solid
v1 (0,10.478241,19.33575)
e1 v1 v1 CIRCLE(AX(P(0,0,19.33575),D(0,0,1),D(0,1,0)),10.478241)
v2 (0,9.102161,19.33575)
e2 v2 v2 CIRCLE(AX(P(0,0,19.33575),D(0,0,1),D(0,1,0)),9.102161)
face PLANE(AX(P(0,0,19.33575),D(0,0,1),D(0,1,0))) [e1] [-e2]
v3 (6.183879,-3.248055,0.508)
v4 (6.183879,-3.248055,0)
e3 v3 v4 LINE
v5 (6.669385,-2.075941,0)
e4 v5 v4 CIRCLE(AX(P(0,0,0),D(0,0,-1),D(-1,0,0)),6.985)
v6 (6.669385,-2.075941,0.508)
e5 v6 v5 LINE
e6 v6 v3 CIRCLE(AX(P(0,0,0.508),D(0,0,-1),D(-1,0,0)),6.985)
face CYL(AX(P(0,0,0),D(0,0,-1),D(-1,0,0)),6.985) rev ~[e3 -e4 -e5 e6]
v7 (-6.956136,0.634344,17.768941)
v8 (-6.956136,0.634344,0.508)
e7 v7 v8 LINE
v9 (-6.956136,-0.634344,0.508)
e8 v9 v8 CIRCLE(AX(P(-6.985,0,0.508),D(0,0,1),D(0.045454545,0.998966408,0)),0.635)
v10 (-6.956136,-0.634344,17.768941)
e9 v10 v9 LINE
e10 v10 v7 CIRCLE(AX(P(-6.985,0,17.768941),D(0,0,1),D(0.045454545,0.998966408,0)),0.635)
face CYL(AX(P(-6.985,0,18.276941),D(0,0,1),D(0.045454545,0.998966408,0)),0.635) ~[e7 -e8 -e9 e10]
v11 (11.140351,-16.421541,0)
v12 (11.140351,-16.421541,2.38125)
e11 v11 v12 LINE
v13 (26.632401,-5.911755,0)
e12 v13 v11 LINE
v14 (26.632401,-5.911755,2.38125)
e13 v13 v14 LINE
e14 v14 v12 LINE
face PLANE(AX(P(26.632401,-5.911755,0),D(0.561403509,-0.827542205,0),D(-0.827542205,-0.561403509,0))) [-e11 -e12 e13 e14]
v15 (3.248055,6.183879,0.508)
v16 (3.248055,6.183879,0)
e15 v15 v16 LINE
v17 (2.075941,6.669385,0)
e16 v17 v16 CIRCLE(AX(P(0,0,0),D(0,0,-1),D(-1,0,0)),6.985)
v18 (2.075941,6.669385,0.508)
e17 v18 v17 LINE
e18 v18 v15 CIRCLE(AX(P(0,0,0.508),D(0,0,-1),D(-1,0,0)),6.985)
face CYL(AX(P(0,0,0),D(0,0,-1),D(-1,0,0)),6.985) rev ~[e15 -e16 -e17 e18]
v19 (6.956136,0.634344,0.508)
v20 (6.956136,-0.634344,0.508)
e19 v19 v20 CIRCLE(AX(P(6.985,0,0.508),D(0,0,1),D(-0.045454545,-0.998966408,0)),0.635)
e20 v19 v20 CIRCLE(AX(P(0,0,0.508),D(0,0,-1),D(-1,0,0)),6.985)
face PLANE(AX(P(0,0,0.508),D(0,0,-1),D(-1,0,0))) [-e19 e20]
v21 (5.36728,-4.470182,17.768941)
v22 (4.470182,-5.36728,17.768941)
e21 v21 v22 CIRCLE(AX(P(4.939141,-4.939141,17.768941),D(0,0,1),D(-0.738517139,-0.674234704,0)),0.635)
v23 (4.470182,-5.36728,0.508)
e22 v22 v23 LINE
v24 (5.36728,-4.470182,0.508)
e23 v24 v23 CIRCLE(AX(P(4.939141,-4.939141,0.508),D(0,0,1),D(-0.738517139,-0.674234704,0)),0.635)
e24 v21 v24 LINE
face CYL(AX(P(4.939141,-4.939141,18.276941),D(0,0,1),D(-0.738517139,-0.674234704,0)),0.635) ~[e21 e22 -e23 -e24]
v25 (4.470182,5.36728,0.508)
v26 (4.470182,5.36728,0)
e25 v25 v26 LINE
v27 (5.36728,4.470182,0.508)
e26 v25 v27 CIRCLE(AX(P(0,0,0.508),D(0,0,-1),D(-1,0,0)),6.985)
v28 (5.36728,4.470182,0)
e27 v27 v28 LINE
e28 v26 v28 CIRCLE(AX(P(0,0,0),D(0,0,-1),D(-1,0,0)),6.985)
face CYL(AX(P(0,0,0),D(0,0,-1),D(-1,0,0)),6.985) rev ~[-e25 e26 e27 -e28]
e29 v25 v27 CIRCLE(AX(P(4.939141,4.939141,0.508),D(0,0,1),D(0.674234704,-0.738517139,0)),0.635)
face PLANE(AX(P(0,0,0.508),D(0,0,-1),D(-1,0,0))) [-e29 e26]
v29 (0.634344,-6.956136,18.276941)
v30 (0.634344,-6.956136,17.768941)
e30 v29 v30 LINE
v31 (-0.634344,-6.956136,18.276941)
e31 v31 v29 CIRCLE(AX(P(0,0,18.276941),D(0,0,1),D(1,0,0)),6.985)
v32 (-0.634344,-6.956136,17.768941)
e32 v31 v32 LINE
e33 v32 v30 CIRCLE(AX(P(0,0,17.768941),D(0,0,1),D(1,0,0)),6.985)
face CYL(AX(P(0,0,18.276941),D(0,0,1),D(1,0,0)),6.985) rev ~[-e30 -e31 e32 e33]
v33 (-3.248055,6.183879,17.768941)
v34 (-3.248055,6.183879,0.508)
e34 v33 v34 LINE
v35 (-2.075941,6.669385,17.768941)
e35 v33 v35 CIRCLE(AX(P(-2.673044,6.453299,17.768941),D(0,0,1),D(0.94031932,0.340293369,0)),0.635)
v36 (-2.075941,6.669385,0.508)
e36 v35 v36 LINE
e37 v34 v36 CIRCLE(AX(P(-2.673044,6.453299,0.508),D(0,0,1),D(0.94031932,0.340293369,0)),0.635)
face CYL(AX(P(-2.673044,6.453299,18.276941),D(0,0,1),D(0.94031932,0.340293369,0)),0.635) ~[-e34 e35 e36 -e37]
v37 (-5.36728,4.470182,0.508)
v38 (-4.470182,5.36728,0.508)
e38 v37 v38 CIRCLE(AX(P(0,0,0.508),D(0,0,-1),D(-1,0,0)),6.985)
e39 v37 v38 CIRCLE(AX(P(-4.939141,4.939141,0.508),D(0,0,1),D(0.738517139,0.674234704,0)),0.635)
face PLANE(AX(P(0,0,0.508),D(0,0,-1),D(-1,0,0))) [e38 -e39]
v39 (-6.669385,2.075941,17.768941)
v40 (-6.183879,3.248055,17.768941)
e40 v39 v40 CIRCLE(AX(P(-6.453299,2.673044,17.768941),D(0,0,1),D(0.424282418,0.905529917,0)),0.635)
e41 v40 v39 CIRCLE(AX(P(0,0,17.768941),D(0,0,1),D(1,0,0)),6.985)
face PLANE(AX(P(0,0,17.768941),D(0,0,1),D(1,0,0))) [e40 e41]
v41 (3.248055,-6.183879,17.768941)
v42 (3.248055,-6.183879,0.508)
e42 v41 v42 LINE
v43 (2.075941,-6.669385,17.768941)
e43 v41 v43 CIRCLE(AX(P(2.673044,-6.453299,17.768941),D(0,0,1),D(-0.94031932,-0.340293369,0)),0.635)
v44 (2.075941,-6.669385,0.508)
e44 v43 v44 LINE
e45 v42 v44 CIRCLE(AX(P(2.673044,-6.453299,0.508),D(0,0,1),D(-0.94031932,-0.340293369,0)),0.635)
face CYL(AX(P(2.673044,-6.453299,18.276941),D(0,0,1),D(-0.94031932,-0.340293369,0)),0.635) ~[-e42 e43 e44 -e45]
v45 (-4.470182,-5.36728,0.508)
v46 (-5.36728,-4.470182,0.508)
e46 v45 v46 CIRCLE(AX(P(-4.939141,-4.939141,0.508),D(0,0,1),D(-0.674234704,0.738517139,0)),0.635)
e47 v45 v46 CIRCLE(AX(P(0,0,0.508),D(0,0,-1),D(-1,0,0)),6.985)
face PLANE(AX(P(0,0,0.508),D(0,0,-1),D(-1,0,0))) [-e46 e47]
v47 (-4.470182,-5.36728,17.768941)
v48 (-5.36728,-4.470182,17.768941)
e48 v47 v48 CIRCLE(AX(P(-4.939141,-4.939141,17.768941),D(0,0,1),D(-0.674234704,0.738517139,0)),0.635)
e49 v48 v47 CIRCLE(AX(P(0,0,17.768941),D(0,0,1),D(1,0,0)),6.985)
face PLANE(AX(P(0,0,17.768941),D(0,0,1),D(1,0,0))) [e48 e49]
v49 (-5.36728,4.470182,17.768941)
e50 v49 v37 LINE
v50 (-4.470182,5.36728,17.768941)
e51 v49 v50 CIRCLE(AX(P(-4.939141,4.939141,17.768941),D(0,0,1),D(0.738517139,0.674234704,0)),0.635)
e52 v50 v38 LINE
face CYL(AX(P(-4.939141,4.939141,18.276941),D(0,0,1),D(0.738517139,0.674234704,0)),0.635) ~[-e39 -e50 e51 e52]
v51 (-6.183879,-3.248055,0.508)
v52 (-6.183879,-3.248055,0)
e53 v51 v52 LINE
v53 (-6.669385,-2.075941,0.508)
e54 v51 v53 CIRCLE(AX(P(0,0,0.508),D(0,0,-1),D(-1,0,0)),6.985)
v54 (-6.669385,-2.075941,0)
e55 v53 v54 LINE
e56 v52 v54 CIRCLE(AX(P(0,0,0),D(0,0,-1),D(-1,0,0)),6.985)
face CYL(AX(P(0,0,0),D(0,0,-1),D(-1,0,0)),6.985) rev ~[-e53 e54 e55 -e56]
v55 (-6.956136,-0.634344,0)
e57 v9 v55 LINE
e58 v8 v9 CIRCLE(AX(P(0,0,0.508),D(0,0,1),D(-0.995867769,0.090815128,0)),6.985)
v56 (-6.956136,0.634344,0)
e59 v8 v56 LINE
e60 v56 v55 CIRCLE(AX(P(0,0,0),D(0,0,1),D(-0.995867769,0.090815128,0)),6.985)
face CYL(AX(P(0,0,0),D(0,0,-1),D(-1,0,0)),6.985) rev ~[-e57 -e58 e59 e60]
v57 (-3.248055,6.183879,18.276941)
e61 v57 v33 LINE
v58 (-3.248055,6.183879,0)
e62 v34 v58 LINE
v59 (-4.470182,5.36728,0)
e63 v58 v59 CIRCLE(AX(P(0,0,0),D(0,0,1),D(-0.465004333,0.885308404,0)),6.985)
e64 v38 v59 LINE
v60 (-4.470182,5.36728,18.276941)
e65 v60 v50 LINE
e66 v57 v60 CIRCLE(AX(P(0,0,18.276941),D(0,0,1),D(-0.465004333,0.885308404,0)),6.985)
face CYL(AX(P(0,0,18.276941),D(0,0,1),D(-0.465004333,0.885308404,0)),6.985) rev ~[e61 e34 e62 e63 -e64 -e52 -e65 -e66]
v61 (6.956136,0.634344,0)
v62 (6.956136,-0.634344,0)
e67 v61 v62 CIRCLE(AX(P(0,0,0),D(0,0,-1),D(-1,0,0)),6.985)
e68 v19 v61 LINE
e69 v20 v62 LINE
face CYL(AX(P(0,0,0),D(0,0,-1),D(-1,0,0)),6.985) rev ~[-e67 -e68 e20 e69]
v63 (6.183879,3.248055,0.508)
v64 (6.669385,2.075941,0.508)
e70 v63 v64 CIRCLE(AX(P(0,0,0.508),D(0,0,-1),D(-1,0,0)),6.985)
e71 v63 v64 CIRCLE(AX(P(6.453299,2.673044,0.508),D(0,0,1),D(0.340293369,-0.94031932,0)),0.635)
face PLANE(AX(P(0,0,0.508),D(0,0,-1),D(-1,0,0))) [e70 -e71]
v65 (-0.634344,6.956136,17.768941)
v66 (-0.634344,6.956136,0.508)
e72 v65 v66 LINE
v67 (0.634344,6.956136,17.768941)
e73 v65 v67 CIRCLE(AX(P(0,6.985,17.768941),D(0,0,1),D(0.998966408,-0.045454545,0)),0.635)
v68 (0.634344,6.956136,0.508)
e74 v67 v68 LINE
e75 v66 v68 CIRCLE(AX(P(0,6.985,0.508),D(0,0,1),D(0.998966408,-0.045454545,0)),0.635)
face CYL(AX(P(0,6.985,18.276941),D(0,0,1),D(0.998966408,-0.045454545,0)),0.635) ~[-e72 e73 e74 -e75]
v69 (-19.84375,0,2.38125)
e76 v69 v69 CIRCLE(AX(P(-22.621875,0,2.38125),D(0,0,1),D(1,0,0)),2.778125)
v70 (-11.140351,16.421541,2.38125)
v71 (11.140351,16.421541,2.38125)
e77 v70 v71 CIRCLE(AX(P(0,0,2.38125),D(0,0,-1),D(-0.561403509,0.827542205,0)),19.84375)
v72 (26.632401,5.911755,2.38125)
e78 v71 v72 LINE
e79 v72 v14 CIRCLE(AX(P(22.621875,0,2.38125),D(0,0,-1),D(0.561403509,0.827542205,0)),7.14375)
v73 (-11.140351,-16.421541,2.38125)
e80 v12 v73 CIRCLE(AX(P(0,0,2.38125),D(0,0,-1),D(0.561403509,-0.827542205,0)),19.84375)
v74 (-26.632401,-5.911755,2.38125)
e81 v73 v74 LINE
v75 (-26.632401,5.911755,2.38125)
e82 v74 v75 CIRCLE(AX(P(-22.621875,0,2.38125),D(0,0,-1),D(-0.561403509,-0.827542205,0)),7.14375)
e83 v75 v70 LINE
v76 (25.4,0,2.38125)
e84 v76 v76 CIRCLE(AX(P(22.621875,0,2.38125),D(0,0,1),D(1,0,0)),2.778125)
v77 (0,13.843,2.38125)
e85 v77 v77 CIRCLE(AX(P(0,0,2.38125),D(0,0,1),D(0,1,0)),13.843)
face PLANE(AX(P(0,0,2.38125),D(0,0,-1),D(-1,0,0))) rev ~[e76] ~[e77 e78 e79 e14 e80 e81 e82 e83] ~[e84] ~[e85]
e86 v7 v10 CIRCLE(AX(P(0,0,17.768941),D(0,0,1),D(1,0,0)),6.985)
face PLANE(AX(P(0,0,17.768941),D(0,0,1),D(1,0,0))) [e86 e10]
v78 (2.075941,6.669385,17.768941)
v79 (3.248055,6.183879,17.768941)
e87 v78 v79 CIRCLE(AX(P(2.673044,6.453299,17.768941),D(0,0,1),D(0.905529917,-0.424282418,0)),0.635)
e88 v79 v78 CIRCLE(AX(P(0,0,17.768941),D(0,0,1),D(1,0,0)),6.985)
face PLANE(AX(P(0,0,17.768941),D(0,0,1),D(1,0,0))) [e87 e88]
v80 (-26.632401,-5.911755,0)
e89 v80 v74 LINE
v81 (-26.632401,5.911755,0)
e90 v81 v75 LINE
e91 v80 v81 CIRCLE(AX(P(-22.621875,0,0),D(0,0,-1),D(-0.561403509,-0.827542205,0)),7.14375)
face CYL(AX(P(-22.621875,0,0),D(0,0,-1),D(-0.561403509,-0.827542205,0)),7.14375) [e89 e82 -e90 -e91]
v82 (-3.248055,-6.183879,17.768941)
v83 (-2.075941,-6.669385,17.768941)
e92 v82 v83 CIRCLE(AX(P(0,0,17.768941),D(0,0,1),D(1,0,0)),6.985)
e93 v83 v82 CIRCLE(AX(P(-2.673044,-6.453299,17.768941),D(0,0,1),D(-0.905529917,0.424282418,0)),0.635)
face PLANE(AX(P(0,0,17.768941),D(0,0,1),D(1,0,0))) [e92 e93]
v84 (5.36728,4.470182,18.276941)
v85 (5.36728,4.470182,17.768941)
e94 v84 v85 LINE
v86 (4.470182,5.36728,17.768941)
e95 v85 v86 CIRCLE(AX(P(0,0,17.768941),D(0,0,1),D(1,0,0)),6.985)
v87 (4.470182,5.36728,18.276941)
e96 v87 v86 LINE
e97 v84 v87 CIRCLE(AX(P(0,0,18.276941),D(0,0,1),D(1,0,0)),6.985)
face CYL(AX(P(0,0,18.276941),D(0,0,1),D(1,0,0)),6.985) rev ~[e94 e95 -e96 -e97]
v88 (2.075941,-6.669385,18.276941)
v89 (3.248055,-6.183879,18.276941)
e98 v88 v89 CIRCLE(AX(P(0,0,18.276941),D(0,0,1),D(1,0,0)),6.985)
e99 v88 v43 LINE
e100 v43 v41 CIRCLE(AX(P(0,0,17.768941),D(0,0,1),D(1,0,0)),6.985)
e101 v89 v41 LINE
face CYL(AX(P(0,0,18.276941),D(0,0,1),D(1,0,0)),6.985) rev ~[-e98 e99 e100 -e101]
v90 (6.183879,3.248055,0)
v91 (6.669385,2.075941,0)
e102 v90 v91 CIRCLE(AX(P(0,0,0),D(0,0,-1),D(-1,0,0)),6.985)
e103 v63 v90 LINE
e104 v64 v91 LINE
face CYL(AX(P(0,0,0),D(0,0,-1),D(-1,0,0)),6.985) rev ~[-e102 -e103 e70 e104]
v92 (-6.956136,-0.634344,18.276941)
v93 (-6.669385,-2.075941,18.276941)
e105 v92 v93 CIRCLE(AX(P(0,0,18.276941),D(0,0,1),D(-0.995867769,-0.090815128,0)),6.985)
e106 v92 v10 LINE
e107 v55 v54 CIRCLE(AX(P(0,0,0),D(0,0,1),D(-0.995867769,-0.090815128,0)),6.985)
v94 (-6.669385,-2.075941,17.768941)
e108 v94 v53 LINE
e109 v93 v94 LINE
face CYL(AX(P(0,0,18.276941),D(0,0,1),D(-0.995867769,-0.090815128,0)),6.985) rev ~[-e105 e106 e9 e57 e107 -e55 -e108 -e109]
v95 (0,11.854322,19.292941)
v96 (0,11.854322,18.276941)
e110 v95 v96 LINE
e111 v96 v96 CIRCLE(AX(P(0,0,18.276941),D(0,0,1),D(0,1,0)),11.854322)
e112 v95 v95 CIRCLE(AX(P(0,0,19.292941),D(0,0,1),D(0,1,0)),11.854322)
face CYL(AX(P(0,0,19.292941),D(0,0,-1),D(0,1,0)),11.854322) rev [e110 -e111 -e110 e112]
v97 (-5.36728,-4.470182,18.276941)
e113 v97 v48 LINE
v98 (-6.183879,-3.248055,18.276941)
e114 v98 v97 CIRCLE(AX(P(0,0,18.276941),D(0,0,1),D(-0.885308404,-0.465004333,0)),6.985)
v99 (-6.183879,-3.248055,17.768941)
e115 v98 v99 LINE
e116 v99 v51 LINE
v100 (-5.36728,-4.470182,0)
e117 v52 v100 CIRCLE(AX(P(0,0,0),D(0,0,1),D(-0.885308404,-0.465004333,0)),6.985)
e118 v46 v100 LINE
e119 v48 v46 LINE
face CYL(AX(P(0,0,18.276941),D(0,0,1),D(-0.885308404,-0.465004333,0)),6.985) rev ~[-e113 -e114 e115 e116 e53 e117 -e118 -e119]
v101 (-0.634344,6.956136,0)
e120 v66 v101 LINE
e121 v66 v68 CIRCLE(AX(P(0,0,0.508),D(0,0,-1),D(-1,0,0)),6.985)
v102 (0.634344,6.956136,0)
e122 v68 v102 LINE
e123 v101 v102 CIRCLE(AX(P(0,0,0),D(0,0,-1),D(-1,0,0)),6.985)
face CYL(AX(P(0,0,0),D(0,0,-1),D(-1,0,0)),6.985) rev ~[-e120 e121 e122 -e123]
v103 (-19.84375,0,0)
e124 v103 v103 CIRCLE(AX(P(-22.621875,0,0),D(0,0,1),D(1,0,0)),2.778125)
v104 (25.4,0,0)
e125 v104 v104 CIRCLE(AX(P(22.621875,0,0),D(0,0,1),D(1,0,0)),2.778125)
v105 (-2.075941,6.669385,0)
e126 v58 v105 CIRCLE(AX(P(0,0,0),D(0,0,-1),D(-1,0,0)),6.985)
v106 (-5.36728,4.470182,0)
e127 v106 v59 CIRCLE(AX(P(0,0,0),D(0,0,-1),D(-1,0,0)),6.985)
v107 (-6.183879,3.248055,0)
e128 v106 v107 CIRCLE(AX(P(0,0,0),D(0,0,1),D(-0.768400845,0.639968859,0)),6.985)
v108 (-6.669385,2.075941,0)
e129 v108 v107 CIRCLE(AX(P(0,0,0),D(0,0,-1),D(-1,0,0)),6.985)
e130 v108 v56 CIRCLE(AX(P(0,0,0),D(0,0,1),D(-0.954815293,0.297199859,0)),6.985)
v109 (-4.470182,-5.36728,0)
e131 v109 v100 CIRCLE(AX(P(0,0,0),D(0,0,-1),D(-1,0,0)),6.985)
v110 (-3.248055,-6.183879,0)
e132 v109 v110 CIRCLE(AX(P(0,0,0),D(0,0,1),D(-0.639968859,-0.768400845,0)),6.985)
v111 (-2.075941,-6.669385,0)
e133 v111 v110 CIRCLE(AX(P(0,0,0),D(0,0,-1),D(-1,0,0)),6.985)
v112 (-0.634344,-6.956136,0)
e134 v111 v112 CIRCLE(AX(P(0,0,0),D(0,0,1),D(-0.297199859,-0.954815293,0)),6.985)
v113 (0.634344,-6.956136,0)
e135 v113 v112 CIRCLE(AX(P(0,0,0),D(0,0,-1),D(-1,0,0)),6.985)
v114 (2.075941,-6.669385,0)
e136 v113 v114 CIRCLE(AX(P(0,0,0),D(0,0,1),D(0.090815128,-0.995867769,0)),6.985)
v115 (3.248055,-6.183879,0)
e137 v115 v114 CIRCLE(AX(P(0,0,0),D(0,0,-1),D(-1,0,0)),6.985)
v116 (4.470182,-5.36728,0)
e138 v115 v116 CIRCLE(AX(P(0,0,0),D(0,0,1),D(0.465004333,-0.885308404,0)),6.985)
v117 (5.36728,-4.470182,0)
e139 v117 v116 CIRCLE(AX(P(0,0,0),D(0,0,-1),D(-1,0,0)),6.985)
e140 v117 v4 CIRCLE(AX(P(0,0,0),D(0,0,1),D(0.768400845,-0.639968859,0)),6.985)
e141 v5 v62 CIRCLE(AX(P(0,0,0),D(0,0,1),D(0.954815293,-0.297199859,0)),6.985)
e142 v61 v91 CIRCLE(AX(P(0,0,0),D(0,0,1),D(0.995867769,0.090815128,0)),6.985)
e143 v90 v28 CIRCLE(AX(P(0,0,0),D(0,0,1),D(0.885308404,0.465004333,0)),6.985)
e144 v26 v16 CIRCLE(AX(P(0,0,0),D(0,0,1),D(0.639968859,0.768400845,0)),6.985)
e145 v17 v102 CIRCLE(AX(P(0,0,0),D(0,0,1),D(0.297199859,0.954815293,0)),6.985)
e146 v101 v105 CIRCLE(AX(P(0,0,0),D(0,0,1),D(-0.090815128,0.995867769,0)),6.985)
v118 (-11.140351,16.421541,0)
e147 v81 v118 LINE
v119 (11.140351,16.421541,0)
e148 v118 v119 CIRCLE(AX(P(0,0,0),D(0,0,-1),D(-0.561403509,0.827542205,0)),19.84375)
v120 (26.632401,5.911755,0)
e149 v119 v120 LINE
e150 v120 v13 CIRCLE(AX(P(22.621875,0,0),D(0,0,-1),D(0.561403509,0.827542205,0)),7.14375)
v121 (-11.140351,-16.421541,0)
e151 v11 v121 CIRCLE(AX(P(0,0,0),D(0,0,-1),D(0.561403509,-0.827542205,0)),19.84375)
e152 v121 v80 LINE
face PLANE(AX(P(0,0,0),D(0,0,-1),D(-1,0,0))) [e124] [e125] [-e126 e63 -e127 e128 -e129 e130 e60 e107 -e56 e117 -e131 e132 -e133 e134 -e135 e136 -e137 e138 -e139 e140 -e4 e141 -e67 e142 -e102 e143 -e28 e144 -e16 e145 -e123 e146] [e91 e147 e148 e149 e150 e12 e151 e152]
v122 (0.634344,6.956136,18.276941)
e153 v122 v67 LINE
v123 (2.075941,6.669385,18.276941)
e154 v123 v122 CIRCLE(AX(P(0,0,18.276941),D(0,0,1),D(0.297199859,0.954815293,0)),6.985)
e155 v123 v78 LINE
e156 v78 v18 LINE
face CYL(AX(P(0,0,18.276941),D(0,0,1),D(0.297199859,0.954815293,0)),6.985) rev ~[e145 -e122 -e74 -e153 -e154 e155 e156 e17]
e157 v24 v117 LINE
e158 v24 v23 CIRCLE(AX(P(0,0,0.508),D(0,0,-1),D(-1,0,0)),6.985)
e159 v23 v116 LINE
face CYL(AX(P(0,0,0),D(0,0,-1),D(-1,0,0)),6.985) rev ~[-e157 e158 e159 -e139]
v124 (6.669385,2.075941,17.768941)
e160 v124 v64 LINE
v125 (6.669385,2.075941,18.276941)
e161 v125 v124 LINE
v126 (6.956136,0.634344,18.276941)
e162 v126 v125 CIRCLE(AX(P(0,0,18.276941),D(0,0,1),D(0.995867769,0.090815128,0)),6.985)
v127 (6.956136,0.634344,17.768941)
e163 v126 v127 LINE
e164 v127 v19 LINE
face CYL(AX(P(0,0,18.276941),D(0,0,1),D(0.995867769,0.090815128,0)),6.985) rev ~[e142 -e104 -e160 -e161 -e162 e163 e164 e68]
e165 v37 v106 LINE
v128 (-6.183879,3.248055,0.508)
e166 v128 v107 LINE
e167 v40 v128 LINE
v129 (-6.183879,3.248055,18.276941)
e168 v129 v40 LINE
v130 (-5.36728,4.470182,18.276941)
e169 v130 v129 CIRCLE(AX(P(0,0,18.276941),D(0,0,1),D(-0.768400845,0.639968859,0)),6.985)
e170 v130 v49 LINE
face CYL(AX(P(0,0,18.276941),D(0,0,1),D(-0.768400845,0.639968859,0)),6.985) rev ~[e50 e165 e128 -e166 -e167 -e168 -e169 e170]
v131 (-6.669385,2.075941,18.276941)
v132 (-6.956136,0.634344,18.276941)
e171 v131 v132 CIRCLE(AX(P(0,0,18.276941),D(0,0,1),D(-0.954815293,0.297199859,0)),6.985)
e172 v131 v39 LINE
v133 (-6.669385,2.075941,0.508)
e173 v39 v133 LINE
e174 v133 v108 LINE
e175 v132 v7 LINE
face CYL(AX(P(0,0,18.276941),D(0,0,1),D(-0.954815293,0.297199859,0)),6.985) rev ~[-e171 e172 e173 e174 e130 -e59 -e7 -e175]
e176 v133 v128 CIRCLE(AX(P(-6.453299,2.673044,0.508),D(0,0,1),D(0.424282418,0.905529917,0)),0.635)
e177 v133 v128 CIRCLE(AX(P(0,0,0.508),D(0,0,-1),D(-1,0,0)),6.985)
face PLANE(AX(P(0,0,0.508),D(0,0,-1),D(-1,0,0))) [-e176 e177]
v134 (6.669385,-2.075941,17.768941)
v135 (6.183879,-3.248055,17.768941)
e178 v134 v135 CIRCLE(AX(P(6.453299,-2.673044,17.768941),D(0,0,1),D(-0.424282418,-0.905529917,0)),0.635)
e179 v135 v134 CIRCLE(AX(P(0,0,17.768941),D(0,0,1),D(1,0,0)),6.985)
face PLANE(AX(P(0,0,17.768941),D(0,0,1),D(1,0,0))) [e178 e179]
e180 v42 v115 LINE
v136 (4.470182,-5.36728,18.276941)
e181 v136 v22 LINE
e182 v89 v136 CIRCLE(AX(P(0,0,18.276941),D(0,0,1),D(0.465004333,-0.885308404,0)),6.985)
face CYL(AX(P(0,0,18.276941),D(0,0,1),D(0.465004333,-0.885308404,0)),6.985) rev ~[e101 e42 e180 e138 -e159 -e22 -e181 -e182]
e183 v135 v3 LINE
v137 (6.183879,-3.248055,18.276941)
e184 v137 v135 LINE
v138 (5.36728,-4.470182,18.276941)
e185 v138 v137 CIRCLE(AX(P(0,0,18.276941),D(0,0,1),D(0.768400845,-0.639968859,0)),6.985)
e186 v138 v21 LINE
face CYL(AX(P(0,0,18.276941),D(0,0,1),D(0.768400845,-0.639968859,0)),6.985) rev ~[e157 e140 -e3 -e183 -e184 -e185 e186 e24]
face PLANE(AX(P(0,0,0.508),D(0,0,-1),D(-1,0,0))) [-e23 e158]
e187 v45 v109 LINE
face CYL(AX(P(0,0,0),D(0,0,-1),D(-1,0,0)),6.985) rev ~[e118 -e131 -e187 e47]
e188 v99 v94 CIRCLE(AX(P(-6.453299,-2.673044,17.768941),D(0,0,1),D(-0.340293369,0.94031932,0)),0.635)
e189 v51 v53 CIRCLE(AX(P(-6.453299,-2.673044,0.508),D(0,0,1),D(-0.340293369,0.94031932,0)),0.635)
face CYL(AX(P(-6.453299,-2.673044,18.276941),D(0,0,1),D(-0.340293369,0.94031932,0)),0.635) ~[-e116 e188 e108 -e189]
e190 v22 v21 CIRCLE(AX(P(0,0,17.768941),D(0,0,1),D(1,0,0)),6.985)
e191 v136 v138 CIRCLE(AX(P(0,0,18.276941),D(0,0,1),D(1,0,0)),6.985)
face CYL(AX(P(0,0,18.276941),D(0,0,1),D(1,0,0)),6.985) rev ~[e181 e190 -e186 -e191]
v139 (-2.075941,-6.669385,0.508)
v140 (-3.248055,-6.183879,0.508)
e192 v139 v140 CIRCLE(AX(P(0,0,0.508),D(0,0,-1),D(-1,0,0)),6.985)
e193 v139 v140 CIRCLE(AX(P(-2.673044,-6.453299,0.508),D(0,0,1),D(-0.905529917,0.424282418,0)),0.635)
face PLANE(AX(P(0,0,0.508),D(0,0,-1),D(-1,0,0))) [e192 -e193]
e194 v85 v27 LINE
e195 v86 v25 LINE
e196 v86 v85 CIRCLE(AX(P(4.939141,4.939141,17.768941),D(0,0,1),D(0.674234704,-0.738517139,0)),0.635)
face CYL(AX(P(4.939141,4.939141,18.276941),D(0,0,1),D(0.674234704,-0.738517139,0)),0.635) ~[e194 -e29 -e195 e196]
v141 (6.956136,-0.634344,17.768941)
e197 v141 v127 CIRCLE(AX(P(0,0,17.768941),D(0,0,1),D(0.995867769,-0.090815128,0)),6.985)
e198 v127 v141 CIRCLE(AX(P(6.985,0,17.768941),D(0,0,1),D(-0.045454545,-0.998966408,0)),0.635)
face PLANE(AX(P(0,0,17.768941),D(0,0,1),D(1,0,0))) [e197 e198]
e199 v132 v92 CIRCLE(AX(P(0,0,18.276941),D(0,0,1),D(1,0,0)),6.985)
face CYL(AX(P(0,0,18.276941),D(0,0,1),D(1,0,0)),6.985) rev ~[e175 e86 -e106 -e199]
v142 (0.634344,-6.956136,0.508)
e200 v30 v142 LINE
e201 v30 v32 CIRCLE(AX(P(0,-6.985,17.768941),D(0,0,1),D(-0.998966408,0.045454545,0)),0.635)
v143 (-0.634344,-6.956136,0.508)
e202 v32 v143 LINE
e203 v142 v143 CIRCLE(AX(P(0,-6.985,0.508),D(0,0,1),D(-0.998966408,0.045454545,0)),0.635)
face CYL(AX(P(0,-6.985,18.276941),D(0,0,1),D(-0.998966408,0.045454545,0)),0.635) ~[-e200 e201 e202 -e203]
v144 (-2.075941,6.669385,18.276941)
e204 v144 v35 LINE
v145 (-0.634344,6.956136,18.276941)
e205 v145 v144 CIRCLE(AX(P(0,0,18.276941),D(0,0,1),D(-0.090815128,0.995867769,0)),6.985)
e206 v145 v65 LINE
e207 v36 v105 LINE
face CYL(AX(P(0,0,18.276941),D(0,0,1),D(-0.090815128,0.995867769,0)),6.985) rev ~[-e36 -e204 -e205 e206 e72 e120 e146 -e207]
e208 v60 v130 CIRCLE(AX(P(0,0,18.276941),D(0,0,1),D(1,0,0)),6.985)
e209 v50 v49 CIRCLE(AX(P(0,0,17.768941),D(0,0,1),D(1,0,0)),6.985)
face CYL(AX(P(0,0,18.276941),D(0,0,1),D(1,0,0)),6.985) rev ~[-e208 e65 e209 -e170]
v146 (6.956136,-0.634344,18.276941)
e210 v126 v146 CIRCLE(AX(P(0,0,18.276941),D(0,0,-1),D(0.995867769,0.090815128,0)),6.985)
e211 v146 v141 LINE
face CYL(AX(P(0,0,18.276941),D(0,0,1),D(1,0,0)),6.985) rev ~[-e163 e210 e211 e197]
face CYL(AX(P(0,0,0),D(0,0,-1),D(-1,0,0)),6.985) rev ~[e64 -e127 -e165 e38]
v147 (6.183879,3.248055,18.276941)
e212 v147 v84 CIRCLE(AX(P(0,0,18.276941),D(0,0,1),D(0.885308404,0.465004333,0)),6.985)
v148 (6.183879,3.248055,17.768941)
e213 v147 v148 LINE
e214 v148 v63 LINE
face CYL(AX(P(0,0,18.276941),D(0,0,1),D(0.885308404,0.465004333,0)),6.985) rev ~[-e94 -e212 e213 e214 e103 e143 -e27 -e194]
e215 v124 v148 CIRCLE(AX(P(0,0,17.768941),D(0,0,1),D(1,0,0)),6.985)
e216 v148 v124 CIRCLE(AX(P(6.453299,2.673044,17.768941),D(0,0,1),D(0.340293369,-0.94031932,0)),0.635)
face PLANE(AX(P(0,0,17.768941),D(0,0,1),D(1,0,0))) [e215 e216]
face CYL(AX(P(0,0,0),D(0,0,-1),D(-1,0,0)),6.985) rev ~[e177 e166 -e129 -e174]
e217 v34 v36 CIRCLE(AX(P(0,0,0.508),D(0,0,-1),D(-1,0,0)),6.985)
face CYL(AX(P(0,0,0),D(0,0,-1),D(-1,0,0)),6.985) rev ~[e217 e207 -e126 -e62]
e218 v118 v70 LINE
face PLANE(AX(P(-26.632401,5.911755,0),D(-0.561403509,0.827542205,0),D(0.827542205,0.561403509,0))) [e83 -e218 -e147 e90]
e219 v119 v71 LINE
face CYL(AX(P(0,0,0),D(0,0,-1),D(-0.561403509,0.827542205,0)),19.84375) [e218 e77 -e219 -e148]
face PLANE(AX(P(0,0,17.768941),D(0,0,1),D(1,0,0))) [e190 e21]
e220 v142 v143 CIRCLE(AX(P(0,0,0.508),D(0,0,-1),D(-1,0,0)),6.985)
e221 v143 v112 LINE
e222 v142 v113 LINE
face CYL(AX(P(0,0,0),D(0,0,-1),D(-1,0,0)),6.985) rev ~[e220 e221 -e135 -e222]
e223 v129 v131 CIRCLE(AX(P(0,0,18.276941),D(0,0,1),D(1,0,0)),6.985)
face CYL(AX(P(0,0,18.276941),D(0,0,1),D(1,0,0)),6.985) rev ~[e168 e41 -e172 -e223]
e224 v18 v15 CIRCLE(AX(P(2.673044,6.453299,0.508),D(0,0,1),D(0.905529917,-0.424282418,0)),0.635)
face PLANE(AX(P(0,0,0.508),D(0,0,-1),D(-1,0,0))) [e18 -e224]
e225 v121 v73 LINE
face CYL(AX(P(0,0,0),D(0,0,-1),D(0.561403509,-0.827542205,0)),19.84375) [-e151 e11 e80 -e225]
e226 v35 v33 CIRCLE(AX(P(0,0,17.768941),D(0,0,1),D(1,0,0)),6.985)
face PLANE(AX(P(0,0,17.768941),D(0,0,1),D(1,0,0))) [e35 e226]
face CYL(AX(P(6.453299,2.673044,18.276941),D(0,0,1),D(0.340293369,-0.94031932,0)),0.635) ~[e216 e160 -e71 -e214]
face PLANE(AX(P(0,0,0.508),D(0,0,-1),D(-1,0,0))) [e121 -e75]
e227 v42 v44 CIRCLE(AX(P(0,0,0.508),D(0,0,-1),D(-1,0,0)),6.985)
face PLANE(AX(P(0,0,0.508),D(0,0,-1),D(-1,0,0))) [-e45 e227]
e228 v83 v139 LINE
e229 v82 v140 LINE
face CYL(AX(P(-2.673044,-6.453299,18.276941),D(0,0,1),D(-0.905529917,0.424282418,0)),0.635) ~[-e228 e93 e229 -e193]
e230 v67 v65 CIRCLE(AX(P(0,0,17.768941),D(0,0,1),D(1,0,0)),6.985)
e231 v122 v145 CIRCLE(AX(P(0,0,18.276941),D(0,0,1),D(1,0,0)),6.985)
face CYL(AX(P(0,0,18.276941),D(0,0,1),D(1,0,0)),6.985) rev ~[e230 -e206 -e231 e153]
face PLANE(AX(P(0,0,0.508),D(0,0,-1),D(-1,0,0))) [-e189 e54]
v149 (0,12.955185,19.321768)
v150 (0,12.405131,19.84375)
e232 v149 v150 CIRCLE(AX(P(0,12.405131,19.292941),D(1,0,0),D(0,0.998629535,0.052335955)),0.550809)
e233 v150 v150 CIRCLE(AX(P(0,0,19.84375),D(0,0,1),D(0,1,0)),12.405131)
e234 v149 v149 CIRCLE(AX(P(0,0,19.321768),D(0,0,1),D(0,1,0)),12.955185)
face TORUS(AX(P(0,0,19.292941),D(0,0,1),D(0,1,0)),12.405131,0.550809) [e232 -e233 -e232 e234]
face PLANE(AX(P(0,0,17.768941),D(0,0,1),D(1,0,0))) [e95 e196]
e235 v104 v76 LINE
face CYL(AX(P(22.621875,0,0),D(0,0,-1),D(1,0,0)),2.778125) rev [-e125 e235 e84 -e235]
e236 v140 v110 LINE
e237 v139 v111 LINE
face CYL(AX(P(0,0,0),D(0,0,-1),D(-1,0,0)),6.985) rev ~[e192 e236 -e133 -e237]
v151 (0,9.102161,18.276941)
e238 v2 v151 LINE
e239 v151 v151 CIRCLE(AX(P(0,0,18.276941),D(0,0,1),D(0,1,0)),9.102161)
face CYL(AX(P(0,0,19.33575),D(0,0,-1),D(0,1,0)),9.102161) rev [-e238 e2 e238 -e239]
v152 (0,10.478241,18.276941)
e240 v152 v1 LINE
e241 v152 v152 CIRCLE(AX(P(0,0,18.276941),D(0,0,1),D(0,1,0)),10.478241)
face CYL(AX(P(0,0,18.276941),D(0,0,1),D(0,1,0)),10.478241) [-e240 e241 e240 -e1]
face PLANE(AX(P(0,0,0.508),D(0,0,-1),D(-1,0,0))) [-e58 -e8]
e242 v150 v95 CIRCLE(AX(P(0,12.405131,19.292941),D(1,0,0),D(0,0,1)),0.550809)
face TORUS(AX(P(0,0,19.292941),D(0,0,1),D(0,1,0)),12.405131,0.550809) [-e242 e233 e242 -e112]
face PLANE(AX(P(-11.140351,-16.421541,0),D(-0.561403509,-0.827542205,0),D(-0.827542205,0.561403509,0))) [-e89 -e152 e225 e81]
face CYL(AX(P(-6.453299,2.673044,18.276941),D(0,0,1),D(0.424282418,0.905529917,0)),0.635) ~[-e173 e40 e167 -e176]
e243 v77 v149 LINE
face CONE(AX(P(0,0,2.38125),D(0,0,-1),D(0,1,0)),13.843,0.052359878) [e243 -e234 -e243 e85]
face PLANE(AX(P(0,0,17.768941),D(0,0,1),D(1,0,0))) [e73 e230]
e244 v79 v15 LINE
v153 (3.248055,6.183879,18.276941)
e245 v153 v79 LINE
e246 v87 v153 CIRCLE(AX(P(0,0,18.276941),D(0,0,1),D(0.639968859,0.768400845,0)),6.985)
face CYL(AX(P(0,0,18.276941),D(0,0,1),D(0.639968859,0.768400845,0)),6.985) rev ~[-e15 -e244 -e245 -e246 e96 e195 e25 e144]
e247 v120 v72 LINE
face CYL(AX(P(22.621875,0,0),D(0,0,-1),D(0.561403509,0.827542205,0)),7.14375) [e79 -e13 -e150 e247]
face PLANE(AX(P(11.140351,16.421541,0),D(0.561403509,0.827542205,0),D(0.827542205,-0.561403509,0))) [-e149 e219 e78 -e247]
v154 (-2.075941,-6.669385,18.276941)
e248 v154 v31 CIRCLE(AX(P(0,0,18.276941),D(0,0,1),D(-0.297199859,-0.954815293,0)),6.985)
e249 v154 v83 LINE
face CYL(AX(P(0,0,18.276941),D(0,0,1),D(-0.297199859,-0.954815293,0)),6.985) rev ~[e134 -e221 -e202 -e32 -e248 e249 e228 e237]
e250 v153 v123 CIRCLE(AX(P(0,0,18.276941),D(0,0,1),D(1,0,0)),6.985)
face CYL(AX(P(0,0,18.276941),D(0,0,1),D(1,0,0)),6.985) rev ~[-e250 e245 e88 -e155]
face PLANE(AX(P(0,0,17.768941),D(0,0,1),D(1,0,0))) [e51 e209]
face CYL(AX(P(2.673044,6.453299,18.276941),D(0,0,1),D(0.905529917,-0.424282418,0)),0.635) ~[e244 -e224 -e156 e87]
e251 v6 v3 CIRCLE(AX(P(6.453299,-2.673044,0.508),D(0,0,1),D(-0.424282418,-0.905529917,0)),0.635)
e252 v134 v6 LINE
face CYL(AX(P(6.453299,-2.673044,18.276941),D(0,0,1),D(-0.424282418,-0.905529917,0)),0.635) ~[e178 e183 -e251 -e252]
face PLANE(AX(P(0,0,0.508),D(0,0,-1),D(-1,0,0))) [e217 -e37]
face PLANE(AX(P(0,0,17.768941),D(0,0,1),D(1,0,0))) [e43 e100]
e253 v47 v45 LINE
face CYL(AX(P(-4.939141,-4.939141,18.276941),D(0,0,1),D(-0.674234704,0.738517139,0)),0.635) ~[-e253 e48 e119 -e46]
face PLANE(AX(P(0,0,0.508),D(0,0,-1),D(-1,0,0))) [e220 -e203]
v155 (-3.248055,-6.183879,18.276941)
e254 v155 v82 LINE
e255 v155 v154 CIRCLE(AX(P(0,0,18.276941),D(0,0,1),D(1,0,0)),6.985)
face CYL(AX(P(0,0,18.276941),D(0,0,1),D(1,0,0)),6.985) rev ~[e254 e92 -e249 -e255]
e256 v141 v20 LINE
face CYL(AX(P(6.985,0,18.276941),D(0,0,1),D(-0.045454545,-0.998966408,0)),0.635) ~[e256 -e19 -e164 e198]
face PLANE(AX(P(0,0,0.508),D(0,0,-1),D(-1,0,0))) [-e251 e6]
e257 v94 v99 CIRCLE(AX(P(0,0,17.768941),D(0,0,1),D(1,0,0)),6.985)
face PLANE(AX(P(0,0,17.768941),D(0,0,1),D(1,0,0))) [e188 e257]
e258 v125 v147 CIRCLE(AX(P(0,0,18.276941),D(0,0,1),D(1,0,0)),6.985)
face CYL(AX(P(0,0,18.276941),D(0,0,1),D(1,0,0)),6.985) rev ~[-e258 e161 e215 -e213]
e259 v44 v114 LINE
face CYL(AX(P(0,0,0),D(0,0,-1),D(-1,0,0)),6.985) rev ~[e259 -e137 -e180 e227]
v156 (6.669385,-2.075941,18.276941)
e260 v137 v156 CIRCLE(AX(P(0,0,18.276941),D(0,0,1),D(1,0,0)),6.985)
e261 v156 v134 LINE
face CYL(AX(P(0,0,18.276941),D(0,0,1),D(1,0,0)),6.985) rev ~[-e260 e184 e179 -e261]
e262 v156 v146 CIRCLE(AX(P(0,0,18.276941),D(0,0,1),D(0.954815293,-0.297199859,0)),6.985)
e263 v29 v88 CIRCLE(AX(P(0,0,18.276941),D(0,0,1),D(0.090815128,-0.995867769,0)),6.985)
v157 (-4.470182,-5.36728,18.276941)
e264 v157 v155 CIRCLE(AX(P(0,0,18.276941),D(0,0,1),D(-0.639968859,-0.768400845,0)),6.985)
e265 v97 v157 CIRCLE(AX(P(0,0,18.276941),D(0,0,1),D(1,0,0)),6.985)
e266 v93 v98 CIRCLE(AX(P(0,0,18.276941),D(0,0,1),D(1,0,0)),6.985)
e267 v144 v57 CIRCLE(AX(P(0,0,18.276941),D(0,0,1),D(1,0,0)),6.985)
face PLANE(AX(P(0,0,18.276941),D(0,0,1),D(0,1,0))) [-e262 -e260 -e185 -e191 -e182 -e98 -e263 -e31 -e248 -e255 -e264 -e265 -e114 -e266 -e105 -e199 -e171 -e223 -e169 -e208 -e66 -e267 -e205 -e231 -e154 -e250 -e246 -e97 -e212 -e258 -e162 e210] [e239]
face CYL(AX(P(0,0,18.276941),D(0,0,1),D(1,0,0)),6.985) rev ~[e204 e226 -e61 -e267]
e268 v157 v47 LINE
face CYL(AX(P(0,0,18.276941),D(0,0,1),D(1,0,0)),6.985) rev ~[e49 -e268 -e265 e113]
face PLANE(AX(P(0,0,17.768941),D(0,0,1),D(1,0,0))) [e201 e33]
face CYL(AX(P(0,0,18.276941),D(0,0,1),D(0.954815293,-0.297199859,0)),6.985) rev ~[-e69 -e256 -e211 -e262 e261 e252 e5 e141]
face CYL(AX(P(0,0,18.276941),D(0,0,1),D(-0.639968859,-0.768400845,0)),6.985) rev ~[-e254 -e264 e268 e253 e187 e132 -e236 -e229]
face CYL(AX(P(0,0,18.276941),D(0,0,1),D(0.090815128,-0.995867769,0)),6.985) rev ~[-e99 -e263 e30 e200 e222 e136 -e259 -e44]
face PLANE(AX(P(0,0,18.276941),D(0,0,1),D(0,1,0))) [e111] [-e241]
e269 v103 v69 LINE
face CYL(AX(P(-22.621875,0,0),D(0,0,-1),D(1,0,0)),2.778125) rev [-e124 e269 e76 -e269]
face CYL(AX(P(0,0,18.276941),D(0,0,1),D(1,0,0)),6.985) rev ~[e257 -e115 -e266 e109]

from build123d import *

# Parameters (mm, degrees)
SKETCH1_R          = 2.778125
SKETCH1_R_2        = 13.843
EXTRUDE1_DEPTH     = 2.38125
CUT_EXTRUDE2_DEPTH = 19.276940811
SKETCH4_R          = 6.985
CUT_EXTRUDE3_DEPTH = 0.508
SKETCH5_R          = 6.985
CUT_EXTRUDE4_DEPTH = 0.508


with BuildPart() as part:
    # Sketch1 → Extrude1 (new body)
    with BuildSketch(Plane.XY):
        with BuildLine():
            Line((-26.632401316, 5.911754624), (-11.140350877, 16.421540622))
            ThreePointArc((-11.140350877, 16.421540622), (0, 19.84375), (11.140350877, 16.421540622))
            Line((11.140350877, 16.421540622), (26.632401316, 5.911754624))
            ThreePointArc((26.632401316, 5.911754624), (29.765625, 0), (26.632401316, -5.911754624))
            Line((26.632401316, -5.911754624), (11.140350877, -16.421540622))
            ThreePointArc((11.140350877, -16.421540622), (0, -19.84375), (-11.140350877, -16.421540622))
            Line((-11.140350877, -16.421540622), (-26.632401316, -5.911754624))
            ThreePointArc((-26.632401316, -5.911754624), (-29.765625, 0), (-26.632401316, 5.911754624))
        make_face()
        with Locations((-22.621875, 0)):
            Circle(SKETCH1_R, mode=Mode.SUBTRACT)
        with Locations((22.621875, 0)):
            Circle(SKETCH1_R, mode=Mode.SUBTRACT)
        Circle(SKETCH1_R_2, mode=Mode.SUBTRACT)
    extrude(amount=EXTRUDE1_DEPTH)

    # Sketch2 → Revolve1 (revolve)
    with BuildSketch(Plane(origin=(0, 0, 0), x_dir=(0, 0, -1), z_dir=(1, 0, 0))):
        with BuildLine():
            Line((0, 13.843), (-2.38125, 13.843))
            Line((-2.38125, 13.843), (-19.321767937, 12.955185075))
            ThreePointArc((-19.321767937, 12.955185075), (-19.69248368, 12.784282777), (-19.84375, 12.405130751))
            ThreePointArc((-19.84375, 12.405130751), (-19.682421724, 12.015649839), (-19.292940811, 11.854321563))
            Line((-19.292940811, 11.854321563), (-18.276940811, 11.854321563))
            Line((-18.276940811, 11.854321563), (-18.276940811, 10.478241172))
            Line((-18.276940811, 10.478241172), (-19.33575, 10.478241172))
            Line((-19.33575, 10.478241172), (-19.33575, 9.102160781))
            Line((-19.33575, 9.102160781), (-18.276940811, 9.102160781))
            Line((-18.276940811, 9.102160781), (-18.276940811, 7.726080391))
            Line((-18.276940811, 7.726080391), (-18.276940811, 6.35))
            Line((-18.276940811, 6.35), (0, 6.35))
            Line((0, 6.35), (0, 13.843))
        make_face()
    revolve(axis=Axis((0, 0, 0), (0, 0, 1)))

    # Sketch3 → Cut-Extrude2 (cut, through all)
    with BuildSketch(Plane.XY.offset(18.276940811)):
        with BuildLine():
            ThreePointArc((-3.248055272, 6.183879199), (-3.880658078, 5.807815242), (-4.470182484, 5.367279904))
            ThreePointArc((-4.470182484, 5.367279904), (-4.490128061, 4.490128061), (-5.367279904, 4.470182484))
            ThreePointArc((-5.367279904, 4.470182484), (-5.807815242, 3.880658078), (-6.183879199, 3.248055272))
            ThreePointArc((-6.183879199, 3.248055272), (-5.866635031, 2.430039796), (-6.669384824, 2.075941007))
            ThreePointArc((-6.669384824, 2.075941007), (-6.850785184, 1.362705899), (-6.956136364, 0.634343669))
            ThreePointArc((-6.956136364, 0.634343669), (-6.35, 0), (-6.956136364, -0.634343669))
            ThreePointArc((-6.956136364, -0.634343669), (-6.850785184, -1.362705899), (-6.669384824, -2.075941007))
            ThreePointArc((-6.669384824, -2.075941007), (-5.866635031, -2.430039796), (-6.183879199, -3.248055272))
            ThreePointArc((-6.183879199, -3.248055272), (-5.807815242, -3.880658078), (-5.367279904, -4.470182484))
            ThreePointArc((-5.367279904, -4.470182484), (-4.490128061, -4.490128061), (-4.470182484, -5.367279904))
            ThreePointArc((-4.470182484, -5.367279904), (-3.880658078, -5.807815242), (-3.248055272, -6.183879199))
            ThreePointArc((-3.248055272, -6.183879199), (-2.430039796, -5.866635031), (-2.075941007, -6.669384824))
            ThreePointArc((-2.075941007, -6.669384824), (-1.362705899, -6.850785184), (-0.634343669, -6.956136364))
            ThreePointArc((-0.634343669, -6.956136364), (0, -6.35), (0.634343669, -6.956136364))
            ThreePointArc((0.634343669, -6.956136364), (1.362705899, -6.850785184), (2.075941007, -6.669384824))
            ThreePointArc((2.075941007, -6.669384824), (2.430039796, -5.866635031), (3.248055272, -6.183879199))
            ThreePointArc((3.248055272, -6.183879199), (3.880658078, -5.807815242), (4.470182484, -5.367279904))
            ThreePointArc((4.470182484, -5.367279904), (4.490128061, -4.490128061), (5.367279904, -4.470182484))
            ThreePointArc((5.367279904, -4.470182484), (5.807815242, -3.880658078), (6.183879199, -3.248055272))
            ThreePointArc((6.183879199, -3.248055272), (5.866635031, -2.430039796), (6.669384824, -2.075941007))
            ThreePointArc((6.669384824, -2.075941007), (6.850785184, -1.362705899), (6.956136364, -0.634343669))
            ThreePointArc((6.956136364, -0.634343669), (6.35, 0), (6.956136364, 0.634343669))
            ThreePointArc((6.956136364, 0.634343669), (6.850785184, 1.362705899), (6.669384824, 2.075941007))
            ThreePointArc((6.669384824, 2.075941007), (5.866635031, 2.430039796), (6.183879199, 3.248055272))
            ThreePointArc((6.183879199, 3.248055272), (5.807815242, 3.880658078), (5.367279904, 4.470182484))
            ThreePointArc((5.367279904, 4.470182484), (4.490128061, 4.490128061), (4.470182484, 5.367279904))
            ThreePointArc((4.470182484, 5.367279904), (3.880658078, 5.807815242), (3.248055272, 6.183879199))
            ThreePointArc((3.248055272, 6.183879199), (2.430039796, 5.866635031), (2.075941007, 6.669384824))
            ThreePointArc((2.075941007, 6.669384824), (1.362705899, 6.850785184), (0.634343669, 6.956136364))
            ThreePointArc((0.634343669, 6.956136364), (0, 6.35), (-0.634343669, 6.956136364))
            ThreePointArc((-0.634343669, 6.956136364), (-1.362705899, 6.850785184), (-2.075941007, 6.669384824))
            ThreePointArc((-2.075941007, 6.669384824), (-2.430039796, 5.866635031), (-3.248055272, 6.183879199))
        make_face()
    extrude(amount=-CUT_EXTRUDE2_DEPTH, mode=Mode.SUBTRACT)

    # Sketch4 → Cut-Extrude3 (cut)
    with BuildSketch(Plane.XY.offset(18.276940811)):
        Circle(SKETCH4_R)
    extrude(amount=-CUT_EXTRUDE3_DEPTH, mode=Mode.SUBTRACT)

    # Sketch5 → Cut-Extrude4 (cut)
    with BuildSketch(Plane(origin=(0, 0, 0), x_dir=(-1, 0, 0), z_dir=(0, 0, -1))):
        Circle(SKETCH5_R)
    extrude(amount=-CUT_EXTRUDE4_DEPTH, mode=Mode.SUBTRACT)


solid = part.part
